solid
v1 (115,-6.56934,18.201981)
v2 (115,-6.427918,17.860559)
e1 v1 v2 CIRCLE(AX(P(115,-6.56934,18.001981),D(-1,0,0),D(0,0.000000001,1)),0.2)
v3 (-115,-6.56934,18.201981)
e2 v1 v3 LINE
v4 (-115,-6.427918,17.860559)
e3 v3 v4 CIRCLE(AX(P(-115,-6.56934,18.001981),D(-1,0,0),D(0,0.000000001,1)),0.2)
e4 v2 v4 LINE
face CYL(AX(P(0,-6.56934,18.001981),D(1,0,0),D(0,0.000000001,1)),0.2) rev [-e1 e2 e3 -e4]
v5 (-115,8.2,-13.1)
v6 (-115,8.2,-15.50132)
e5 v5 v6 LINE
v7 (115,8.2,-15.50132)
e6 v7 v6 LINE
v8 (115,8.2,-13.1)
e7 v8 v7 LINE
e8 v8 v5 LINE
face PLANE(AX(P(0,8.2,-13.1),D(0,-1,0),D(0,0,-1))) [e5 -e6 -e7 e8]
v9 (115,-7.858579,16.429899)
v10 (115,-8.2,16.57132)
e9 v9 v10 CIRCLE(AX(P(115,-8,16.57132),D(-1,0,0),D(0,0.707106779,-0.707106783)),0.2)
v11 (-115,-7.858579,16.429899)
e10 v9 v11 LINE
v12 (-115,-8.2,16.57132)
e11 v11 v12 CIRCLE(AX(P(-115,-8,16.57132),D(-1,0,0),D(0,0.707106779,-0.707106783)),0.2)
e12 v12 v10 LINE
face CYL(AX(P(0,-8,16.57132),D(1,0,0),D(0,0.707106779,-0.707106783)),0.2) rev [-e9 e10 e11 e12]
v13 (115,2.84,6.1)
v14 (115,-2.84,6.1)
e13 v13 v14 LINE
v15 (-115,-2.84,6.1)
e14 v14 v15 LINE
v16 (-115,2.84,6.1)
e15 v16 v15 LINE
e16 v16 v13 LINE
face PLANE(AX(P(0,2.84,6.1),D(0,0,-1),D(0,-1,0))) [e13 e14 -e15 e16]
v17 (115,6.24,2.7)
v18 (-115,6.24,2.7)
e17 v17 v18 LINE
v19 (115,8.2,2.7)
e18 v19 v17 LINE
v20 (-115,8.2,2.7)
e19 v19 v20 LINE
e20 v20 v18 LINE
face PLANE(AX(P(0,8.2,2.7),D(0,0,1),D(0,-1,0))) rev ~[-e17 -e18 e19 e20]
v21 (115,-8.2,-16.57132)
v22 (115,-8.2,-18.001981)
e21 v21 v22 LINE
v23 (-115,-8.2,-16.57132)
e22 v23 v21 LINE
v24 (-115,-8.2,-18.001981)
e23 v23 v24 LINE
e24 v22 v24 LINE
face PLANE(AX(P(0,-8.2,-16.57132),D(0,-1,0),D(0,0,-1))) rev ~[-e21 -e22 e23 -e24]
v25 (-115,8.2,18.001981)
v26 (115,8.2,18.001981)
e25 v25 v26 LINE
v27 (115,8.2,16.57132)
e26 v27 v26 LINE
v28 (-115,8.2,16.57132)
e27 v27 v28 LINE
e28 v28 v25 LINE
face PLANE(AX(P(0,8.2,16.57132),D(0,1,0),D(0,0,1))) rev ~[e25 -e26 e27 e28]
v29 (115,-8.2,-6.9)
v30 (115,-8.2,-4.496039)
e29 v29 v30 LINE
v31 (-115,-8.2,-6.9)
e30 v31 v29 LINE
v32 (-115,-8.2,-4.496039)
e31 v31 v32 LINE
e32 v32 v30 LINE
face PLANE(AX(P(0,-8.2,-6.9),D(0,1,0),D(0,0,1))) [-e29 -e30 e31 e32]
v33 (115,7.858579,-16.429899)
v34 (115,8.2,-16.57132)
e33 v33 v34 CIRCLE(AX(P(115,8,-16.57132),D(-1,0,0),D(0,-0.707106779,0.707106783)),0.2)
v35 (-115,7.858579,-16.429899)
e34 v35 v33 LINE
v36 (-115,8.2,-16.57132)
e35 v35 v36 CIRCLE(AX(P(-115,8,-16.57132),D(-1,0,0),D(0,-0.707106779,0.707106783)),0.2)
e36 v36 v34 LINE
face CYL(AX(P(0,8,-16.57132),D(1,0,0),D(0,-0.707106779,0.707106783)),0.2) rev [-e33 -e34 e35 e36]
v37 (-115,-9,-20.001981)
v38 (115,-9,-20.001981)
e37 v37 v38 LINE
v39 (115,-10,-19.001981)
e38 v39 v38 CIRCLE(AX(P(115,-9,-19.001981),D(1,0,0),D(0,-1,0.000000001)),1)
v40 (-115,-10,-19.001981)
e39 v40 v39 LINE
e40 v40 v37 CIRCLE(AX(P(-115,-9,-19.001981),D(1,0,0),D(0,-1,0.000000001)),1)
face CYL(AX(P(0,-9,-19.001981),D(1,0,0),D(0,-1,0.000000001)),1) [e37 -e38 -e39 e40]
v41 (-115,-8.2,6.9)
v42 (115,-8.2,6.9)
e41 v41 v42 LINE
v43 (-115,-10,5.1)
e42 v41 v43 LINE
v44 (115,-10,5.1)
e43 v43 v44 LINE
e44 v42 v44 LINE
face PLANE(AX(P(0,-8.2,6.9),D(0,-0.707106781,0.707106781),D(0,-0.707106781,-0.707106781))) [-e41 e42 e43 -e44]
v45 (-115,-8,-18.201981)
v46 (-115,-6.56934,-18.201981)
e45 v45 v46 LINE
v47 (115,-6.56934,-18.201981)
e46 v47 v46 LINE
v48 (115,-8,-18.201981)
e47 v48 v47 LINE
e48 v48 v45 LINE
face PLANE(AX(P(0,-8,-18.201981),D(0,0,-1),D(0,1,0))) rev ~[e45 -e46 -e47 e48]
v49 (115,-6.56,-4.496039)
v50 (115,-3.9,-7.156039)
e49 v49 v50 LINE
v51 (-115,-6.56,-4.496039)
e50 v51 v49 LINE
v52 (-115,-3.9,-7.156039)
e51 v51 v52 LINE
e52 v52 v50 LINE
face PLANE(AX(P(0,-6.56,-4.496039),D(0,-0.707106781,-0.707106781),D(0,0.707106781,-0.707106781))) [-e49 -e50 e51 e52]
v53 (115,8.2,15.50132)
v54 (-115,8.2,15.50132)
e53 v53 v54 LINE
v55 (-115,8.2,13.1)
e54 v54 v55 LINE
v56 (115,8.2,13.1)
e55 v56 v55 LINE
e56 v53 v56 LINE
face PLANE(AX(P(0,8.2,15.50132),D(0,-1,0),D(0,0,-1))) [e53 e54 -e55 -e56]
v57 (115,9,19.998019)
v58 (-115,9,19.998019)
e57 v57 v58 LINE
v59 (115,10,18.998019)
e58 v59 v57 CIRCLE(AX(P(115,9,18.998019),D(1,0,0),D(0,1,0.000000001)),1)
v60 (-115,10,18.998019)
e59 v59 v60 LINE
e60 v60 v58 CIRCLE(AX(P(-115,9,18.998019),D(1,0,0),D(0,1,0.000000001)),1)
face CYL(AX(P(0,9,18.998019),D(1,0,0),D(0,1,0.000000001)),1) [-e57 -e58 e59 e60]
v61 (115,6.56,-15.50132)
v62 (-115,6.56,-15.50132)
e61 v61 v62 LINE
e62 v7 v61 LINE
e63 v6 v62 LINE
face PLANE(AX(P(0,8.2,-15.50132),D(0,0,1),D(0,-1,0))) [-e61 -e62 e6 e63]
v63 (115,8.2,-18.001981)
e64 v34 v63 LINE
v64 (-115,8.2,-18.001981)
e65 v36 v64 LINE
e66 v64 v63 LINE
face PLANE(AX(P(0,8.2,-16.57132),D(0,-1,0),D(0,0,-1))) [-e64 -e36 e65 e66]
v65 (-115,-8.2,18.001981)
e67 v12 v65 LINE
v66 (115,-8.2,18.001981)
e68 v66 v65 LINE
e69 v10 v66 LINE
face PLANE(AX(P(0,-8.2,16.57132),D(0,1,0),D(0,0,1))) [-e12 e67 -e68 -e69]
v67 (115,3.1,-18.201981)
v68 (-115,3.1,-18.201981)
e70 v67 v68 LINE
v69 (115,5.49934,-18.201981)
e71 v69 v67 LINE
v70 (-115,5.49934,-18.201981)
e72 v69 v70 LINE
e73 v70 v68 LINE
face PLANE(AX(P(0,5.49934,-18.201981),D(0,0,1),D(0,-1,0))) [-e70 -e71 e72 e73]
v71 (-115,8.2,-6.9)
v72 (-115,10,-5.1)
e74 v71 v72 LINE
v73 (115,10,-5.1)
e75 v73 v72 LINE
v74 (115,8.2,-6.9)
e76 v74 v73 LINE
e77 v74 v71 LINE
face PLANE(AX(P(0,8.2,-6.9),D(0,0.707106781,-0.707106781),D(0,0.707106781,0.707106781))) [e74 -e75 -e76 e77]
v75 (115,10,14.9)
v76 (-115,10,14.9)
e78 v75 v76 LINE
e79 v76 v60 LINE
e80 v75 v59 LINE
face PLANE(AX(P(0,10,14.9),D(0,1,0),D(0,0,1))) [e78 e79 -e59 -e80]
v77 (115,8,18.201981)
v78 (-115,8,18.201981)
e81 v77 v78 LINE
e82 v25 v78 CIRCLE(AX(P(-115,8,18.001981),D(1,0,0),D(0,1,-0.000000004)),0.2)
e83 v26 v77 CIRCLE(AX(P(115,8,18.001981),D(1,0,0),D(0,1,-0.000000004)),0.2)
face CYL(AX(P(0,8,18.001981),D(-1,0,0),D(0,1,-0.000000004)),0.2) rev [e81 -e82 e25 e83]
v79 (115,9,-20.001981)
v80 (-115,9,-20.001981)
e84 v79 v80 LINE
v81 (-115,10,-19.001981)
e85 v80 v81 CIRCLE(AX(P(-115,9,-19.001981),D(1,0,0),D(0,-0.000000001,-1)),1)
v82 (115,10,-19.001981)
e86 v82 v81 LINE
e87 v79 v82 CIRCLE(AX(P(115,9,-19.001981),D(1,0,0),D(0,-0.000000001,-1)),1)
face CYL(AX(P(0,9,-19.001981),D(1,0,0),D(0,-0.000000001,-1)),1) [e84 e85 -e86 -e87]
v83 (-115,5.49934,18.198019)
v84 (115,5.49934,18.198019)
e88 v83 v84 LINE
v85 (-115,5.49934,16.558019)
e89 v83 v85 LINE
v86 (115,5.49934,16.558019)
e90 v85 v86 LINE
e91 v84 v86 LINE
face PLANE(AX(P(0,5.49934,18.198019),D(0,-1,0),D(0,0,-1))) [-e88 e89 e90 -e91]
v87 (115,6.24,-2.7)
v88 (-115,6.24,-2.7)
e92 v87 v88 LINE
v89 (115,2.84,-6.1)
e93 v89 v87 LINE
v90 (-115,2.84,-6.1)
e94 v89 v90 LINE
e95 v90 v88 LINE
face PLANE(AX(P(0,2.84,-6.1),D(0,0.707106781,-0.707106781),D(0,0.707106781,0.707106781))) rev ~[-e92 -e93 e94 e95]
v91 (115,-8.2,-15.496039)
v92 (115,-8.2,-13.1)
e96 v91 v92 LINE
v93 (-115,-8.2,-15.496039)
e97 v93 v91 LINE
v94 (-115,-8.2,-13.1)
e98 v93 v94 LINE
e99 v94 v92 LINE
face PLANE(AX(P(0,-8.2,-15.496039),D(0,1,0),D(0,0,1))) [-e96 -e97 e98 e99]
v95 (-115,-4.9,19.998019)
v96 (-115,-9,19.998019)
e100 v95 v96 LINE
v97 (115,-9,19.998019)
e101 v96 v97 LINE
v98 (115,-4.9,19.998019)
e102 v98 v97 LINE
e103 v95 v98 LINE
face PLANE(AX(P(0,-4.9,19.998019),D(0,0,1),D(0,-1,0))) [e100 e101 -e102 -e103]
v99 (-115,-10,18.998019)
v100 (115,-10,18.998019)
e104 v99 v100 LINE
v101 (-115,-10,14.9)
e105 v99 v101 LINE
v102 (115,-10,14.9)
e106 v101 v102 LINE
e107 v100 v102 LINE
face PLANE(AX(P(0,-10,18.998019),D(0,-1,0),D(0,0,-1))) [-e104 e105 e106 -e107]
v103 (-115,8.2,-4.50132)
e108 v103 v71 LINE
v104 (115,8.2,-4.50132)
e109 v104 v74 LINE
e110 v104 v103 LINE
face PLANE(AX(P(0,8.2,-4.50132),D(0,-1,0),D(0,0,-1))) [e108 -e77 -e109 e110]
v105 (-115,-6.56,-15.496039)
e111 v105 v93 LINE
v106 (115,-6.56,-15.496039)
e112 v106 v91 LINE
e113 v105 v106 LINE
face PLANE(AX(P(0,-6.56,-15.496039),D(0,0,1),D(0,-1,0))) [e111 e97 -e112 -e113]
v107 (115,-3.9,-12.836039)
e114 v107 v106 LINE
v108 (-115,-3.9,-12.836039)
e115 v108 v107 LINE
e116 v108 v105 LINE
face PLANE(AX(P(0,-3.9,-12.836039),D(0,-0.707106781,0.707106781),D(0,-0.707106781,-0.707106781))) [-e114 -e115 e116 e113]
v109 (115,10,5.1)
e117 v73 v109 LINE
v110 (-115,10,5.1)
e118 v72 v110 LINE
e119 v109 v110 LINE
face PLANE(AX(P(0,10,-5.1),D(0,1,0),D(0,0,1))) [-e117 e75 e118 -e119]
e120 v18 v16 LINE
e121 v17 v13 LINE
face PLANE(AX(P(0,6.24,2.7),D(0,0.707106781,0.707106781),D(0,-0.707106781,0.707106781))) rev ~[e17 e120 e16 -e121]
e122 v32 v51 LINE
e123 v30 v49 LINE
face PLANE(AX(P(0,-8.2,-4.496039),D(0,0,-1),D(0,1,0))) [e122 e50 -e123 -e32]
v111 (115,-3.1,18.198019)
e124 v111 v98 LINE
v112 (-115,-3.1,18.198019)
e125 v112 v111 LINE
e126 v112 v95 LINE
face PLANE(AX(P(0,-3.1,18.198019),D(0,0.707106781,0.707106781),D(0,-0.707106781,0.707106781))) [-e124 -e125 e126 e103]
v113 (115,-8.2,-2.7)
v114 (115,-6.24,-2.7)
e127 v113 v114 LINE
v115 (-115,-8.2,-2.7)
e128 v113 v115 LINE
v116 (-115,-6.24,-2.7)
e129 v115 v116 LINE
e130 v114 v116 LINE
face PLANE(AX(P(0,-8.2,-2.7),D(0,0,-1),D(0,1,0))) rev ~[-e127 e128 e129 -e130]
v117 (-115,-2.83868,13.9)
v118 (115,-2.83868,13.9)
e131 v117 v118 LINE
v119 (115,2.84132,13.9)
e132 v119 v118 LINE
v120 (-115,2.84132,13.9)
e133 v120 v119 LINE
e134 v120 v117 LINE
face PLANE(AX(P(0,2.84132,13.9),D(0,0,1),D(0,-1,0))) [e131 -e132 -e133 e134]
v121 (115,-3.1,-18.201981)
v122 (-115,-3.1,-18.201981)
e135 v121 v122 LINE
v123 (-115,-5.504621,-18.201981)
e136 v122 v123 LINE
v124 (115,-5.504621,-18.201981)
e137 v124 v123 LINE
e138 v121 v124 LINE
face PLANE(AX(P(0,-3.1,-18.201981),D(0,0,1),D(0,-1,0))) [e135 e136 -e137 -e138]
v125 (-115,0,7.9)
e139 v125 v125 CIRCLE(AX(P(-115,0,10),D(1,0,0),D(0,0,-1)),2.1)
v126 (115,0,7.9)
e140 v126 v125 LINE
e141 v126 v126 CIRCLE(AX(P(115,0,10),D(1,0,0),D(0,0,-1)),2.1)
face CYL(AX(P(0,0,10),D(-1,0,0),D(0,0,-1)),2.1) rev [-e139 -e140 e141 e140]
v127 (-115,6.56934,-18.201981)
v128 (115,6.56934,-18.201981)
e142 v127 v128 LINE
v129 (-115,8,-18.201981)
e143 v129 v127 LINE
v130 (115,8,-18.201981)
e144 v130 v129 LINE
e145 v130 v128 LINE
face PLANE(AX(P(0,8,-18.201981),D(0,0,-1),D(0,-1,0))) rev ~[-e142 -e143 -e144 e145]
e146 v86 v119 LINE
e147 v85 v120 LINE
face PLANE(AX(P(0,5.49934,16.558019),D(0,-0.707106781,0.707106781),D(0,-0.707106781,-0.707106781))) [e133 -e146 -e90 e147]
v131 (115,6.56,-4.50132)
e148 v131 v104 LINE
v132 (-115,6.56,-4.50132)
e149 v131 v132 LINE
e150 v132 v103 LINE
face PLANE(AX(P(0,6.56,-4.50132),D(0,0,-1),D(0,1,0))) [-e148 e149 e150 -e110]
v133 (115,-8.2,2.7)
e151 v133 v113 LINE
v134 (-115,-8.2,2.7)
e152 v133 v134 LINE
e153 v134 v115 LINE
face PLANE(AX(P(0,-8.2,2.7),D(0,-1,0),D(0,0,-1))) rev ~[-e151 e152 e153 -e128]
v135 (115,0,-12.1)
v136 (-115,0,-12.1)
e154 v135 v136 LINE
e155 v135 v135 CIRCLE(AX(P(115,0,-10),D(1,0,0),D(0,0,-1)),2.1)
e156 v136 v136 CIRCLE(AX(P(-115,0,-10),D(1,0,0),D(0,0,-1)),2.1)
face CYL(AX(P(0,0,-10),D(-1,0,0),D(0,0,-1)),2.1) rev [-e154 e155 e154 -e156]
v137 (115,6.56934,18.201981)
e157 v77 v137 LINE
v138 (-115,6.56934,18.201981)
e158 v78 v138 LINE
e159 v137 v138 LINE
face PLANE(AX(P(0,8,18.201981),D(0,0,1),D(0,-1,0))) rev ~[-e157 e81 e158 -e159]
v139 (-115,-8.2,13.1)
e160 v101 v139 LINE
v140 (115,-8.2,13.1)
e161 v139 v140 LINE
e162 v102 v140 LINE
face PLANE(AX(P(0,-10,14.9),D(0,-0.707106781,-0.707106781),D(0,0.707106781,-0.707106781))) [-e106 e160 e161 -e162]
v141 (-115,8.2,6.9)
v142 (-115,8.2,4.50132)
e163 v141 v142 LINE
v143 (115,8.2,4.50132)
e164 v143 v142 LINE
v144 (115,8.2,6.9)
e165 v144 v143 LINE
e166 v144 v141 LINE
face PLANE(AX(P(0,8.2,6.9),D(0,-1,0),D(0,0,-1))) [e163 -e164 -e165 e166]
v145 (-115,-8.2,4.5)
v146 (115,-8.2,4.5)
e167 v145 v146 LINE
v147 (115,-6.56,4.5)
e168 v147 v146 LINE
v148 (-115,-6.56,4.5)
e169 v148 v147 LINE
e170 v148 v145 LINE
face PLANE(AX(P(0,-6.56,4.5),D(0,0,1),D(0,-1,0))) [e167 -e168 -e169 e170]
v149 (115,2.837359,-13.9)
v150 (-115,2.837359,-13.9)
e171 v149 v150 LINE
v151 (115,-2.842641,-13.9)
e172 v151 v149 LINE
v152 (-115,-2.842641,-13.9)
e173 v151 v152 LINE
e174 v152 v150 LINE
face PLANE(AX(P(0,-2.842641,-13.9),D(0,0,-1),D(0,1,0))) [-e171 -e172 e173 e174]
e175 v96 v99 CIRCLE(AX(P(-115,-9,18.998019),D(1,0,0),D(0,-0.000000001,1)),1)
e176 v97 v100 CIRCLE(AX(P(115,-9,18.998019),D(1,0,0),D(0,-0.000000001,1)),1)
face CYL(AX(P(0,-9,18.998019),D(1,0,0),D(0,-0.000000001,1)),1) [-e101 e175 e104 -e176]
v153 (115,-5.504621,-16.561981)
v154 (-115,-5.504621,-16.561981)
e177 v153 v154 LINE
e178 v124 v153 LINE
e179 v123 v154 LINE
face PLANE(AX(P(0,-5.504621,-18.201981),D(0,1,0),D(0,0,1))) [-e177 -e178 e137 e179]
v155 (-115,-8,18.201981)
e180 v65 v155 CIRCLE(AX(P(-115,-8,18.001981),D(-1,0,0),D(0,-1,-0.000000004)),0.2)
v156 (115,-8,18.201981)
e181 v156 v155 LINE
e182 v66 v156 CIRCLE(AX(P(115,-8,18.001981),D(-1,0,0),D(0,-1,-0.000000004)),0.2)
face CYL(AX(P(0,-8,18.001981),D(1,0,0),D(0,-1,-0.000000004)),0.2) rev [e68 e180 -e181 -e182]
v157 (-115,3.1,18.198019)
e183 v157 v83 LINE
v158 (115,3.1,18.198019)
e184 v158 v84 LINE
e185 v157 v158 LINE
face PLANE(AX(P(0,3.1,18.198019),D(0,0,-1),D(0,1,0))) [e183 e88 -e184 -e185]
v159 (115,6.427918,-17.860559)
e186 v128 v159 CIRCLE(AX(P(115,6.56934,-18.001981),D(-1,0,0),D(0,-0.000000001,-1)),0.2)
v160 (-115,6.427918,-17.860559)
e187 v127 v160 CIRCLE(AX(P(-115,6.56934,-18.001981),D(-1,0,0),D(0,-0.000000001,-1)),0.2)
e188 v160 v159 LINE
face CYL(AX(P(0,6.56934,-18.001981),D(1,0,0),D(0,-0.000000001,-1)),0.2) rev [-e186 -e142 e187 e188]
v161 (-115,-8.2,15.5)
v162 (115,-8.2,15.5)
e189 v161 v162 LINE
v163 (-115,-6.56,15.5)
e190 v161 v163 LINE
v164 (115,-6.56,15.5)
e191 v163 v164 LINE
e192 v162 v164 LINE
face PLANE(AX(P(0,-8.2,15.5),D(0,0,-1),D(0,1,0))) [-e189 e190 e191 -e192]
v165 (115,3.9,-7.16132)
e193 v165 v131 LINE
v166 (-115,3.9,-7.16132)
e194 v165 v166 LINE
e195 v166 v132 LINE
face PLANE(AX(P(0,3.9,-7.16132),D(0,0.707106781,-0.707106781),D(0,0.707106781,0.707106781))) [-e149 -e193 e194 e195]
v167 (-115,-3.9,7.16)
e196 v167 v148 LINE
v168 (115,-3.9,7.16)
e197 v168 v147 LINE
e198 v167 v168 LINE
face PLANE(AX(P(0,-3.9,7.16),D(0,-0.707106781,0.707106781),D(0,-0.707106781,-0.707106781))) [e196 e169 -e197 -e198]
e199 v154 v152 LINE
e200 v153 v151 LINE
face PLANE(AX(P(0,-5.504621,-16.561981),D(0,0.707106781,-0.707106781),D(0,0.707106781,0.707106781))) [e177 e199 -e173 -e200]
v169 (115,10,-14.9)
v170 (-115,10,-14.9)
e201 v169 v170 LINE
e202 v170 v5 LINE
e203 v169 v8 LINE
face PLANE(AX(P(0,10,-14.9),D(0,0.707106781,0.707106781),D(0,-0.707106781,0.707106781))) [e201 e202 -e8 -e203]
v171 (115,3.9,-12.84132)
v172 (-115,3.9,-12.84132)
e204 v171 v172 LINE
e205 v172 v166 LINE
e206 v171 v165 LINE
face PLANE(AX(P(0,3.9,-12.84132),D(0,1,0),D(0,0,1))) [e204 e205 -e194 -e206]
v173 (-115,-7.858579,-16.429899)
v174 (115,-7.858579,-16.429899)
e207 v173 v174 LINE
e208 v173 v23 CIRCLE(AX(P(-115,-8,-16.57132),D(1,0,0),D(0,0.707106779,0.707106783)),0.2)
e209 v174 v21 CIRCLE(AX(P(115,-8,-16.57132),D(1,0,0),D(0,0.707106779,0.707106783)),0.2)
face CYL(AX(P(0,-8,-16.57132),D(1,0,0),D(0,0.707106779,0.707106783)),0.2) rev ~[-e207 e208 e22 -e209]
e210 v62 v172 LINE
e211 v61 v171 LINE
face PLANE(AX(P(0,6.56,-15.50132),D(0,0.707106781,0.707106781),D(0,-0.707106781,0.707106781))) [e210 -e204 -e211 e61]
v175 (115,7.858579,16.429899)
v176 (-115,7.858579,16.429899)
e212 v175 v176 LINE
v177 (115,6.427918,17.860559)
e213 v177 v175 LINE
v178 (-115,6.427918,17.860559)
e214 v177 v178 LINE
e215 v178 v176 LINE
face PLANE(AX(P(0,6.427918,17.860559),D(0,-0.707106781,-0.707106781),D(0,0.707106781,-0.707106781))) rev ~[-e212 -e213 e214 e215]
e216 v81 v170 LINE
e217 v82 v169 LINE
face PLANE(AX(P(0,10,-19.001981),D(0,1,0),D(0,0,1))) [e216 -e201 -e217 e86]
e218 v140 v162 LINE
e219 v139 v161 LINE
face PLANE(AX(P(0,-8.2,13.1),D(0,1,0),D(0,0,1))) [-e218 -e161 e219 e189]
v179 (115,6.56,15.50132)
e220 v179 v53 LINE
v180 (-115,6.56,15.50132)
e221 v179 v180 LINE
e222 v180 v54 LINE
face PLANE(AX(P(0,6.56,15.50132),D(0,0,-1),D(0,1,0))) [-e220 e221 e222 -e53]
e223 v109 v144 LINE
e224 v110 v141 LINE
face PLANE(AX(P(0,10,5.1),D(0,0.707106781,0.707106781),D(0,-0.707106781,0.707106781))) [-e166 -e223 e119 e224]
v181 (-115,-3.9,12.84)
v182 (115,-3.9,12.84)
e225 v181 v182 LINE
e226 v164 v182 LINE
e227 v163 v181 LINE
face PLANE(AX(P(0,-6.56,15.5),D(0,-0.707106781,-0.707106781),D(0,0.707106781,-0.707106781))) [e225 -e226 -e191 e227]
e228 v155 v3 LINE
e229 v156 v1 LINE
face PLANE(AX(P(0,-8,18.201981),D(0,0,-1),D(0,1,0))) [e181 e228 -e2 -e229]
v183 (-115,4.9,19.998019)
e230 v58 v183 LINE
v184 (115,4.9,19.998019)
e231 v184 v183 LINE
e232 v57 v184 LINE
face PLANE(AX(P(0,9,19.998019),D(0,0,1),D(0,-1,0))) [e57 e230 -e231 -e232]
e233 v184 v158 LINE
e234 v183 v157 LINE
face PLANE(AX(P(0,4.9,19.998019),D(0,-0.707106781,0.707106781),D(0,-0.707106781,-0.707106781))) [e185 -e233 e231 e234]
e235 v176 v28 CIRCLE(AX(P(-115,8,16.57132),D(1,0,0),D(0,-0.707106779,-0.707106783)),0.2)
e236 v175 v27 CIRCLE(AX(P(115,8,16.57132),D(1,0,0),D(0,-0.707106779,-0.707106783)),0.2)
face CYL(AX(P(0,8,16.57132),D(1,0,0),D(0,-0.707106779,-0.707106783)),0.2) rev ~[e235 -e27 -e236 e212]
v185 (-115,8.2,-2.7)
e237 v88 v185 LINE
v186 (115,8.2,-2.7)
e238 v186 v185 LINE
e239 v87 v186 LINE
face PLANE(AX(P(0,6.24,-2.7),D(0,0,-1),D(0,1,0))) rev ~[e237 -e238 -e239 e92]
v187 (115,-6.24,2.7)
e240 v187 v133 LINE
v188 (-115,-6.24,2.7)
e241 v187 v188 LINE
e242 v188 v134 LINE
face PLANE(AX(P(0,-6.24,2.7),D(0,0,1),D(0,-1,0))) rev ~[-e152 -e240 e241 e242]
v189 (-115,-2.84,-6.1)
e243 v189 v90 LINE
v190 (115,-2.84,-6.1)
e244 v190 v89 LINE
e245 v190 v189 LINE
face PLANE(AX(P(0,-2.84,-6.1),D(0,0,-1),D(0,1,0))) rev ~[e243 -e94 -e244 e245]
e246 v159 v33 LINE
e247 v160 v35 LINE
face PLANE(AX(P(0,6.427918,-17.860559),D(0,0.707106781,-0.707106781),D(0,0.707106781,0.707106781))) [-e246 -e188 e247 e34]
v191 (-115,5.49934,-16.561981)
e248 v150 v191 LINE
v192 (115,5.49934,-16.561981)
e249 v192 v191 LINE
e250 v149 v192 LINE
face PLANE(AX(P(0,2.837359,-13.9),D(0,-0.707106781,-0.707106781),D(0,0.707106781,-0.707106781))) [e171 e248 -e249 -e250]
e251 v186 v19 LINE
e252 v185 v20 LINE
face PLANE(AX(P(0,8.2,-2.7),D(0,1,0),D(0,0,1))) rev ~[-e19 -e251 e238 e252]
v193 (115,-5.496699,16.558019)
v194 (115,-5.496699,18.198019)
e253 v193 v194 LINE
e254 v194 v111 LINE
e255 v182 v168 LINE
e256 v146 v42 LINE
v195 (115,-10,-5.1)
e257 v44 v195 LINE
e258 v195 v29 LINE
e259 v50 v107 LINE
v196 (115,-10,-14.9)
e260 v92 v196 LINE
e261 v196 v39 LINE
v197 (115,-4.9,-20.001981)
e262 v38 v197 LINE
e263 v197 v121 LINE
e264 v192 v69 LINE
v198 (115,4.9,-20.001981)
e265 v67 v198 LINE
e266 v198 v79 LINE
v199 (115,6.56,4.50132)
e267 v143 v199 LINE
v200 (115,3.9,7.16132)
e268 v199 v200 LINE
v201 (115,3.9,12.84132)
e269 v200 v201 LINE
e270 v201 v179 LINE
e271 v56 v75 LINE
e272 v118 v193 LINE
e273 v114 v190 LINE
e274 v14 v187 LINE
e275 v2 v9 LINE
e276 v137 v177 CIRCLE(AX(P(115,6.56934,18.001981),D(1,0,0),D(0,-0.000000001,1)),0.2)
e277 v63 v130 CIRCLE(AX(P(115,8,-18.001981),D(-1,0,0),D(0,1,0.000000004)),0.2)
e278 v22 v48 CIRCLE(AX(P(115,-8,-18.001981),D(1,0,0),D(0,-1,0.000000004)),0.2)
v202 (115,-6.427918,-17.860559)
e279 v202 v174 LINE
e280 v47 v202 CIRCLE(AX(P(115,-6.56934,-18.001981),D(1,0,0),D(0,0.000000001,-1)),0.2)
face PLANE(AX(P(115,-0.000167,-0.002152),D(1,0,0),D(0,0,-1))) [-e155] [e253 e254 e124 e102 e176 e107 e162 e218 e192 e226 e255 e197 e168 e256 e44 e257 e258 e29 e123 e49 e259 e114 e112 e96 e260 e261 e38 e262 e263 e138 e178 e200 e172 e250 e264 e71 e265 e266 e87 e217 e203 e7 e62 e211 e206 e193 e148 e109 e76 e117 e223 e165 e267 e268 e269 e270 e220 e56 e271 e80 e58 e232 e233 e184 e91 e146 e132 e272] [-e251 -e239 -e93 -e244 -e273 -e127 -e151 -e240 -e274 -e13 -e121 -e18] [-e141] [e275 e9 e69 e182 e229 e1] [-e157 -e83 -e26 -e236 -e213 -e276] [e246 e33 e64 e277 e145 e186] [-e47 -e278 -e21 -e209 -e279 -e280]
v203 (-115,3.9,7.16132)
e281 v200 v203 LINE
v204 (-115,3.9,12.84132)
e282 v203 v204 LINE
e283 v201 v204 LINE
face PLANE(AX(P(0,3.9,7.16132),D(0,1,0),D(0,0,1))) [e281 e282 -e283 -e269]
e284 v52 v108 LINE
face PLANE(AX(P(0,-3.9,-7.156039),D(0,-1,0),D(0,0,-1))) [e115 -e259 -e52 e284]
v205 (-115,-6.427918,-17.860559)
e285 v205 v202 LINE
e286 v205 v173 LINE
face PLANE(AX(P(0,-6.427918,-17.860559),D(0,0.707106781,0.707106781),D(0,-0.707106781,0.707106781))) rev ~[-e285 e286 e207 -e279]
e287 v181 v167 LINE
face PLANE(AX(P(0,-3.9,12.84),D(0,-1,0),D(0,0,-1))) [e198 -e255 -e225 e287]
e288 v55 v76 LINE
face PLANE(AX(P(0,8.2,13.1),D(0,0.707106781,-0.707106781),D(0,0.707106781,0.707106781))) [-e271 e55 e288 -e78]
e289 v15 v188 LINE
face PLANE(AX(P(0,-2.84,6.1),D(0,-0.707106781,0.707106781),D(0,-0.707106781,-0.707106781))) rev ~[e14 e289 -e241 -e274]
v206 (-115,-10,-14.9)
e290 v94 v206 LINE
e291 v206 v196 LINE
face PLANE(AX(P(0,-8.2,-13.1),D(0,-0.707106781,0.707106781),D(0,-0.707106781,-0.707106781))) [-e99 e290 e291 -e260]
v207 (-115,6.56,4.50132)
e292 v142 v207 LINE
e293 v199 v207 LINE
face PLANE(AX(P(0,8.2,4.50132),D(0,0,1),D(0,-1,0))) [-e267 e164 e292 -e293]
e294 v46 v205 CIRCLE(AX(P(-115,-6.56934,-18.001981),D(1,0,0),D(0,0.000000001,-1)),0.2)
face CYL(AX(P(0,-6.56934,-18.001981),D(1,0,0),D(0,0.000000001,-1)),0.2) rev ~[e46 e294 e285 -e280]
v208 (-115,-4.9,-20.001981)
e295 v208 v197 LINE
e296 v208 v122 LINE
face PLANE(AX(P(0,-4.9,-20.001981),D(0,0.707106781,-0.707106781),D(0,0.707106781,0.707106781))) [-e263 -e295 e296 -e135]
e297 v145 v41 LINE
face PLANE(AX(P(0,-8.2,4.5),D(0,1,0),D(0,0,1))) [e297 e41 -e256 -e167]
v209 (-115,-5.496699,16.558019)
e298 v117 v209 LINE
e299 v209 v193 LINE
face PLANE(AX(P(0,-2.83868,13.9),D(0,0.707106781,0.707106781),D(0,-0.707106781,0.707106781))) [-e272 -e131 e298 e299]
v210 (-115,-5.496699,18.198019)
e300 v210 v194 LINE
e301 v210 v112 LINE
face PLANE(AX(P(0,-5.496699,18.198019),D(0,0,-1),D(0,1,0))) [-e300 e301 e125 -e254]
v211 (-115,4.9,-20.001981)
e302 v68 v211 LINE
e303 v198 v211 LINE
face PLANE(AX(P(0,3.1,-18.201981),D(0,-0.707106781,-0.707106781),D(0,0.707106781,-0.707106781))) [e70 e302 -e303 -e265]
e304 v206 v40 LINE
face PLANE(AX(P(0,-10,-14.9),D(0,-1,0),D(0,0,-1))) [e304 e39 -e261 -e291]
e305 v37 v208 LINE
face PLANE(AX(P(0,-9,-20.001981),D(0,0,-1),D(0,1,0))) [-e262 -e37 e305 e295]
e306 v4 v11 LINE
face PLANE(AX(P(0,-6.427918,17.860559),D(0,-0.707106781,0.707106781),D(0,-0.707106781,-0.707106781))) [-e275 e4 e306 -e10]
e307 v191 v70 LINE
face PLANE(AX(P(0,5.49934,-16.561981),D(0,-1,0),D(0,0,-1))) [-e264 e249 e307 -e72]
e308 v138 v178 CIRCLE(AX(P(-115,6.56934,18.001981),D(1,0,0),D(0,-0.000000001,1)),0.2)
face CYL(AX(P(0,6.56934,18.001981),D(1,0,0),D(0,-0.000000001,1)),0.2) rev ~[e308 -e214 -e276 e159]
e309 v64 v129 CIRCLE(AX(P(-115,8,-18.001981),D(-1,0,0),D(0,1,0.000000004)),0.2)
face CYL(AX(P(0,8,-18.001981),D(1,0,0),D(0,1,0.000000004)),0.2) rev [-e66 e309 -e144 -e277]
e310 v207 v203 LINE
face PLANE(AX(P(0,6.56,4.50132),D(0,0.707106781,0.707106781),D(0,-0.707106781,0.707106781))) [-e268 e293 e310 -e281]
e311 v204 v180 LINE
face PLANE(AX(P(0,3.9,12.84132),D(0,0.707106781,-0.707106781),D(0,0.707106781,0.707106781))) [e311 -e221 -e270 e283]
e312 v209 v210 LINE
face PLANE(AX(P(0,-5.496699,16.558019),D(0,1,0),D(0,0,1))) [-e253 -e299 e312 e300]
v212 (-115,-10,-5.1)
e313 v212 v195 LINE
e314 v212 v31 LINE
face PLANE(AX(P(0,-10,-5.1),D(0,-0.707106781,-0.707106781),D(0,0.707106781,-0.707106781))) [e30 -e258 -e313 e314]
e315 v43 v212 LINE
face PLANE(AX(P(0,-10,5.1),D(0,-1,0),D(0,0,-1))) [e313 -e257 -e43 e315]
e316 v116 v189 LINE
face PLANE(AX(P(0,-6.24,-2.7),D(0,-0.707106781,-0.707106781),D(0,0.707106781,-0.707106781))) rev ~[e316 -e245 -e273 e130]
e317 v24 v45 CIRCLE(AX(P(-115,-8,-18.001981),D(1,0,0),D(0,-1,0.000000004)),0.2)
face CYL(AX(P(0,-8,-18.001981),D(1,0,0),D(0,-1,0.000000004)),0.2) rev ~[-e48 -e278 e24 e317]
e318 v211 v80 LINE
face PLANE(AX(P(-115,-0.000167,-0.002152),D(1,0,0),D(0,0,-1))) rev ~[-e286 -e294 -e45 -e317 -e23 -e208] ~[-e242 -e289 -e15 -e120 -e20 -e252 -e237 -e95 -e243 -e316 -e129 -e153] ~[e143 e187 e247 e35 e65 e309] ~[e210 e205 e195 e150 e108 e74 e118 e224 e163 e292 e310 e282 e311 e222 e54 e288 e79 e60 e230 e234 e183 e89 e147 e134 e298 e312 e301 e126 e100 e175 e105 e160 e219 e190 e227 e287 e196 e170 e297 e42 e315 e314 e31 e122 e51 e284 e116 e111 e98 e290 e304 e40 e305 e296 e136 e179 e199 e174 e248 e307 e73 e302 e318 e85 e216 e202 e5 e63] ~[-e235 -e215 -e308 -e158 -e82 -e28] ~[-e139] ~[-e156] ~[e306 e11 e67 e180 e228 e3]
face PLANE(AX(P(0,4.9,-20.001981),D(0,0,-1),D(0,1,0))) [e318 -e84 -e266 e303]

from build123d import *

# Parameters (mm, degrees)
SKETCH5_R           = 2.1
BOSS_EXTRUDE1_DEPTH = 115


with BuildPart() as part:
    # Sketch5 → Boss-Extrude1 (new body, symmetric)
    with BuildSketch(Plane(origin=(0, 0, 0), x_dir=(0, 0, -1), z_dir=(1, 0, 0))):
        with BuildLine():
            Line((-19.998019485, 4.9), (-18.198019485, 3.1))
            Line((-18.198019485, 3.1), (-18.198019485, 5.499339828))
            Line((-18.198019485, 5.499339828), (-16.558019485, 5.499339828))
            Line((-16.558019485, 5.499339828), (-13.9, 2.841320344))
            Line((-13.9, 2.841320344), (-13.9, -2.838679656))
            Line((-13.9, -2.838679656), (-16.558019485, -5.496699141))
            Line((-16.558019485, -5.496699141), (-18.198019485, -5.496699141))
            Line((-18.198019485, -5.496699141), (-18.198019485, -3.1))
            Line((-18.198019485, -3.1), (-19.998019485, -4.9))
            Line((-19.998019485, -4.9), (-19.998019485, -9))
            ThreePointArc((-19.998019485, -9), (-19.705126266, -9.707106781), (-18.998019485, -10))
            Line((-18.998019485, -10), (-14.9, -10))
            Line((-14.9, -10), (-13.1, -8.2))
            Line((-13.1, -8.2), (-15.5, -8.2))
            Line((-15.5, -8.2), (-15.5, -6.56))
            Line((-15.5, -6.56), (-12.84, -3.9))
            Line((-12.84, -3.9), (-7.16, -3.9))
            Line((-7.16, -3.9), (-4.5, -6.56))
            Line((-4.5, -6.56), (-4.5, -8.2))
            Line((-4.5, -8.2), (-6.9, -8.2))
            Line((-6.9, -8.2), (-5.1, -10))
            Line((-5.1, -10), (5.1, -10))
            Line((5.1, -10), (6.9, -8.2))
            Line((6.9, -8.2), (4.496038969, -8.2))
            Line((4.496038969, -8.2), (4.496038969, -6.56))
            Line((4.496038969, -6.56), (7.156038969, -3.9))
            Line((7.156038969, -3.9), (12.836038969, -3.9))
            Line((12.836038969, -3.9), (15.496038969, -6.56))
            Line((15.496038969, -6.56), (15.496038969, -8.2))
            Line((15.496038969, -8.2), (13.1, -8.2))
            Line((13.1, -8.2), (14.9, -10))
            Line((14.9, -10), (19.001980515, -10))
            ThreePointArc((19.001980515, -10), (19.709087297, -9.707106781), (20.001980515, -9))
            Line((20.001980515, -9), (20.001980515, -4.9))
            Line((20.001980515, -4.9), (18.201980515, -3.1))
            Line((18.201980515, -3.1), (18.201980515, -5.504621202))
            Line((18.201980515, -5.504621202), (16.561980515, -5.504621202))
            Line((16.561980515, -5.504621202), (13.9, -2.842640687))
            Line((13.9, -2.842640687), (13.9, 2.837359313))
            Line((13.9, 2.837359313), (16.561980515, 5.499339828))
            Line((16.561980515, 5.499339828), (18.201980515, 5.499339828))
            Line((18.201980515, 5.499339828), (18.201980515, 3.1))
            Line((18.201980515, 3.1), (20.001980515, 4.9))
            Line((20.001980515, 4.9), (20.001980515, 9))
            ThreePointArc((20.001980515, 9), (19.709087297, 9.707106781), (19.001980515, 10))
            Line((19.001980515, 10), (14.9, 10))
            Line((14.9, 10), (13.1, 8.2))
            Line((13.1, 8.2), (15.501320344, 8.2))
            Line((15.501320344, 8.2), (15.501320344, 6.56))
            Line((15.501320344, 6.56), (12.841320344, 3.9))
            Line((12.841320344, 3.9), (7.161320344, 3.9))
            Line((7.161320344, 3.9), (4.501320344, 6.56))
            Line((4.501320344, 6.56), (4.501320344, 8.2))
            Line((4.501320344, 8.2), (6.9, 8.2))
            Line((6.9, 8.2), (5.1, 10))
            Line((5.1, 10), (-5.1, 10))
            Line((-5.1, 10), (-6.9, 8.2))
            Line((-6.9, 8.2), (-4.501320344, 8.2))
            Line((-4.501320344, 8.2), (-4.501320344, 6.56))
            Line((-4.501320344, 6.56), (-7.161320344, 3.9))
            Line((-7.161320344, 3.9), (-12.841320344, 3.9))
            Line((-12.841320344, 3.9), (-15.501320344, 6.56))
            Line((-15.501320344, 6.56), (-15.501320344, 8.2))
            Line((-15.501320344, 8.2), (-13.1, 8.2))
            Line((-13.1, 8.2), (-14.9, 10))
            Line((-14.9, 10), (-18.998019485, 10))
            ThreePointArc((-18.998019485, 10), (-19.705126266, 9.707106781), (-19.998019485, 9))
            Line((-19.998019485, 9), (-19.998019485, 4.9))
        make_face()
        with Locations((-10, 0)):
            Circle(SKETCH5_R, mode=Mode.SUBTRACT)
        with Locations((10, 0)):
            Circle(SKETCH5_R, mode=Mode.SUBTRACT)
        Polygon((6.1, -2.84), (6.1, 2.84), (2.7, 6.24), (2.7, 8.2), (-2.7, 8.2), (-2.7, 6.24), (-6.1, 2.84), (-6.1, -2.84), (-2.7, -6.24), (-2.7, -8.2), (2.7, -8.2), (2.7, -6.24), align=None, mode=Mode.SUBTRACT)
        with BuildLine():
            Line((16.571320344, 8.2), (18.001980515, 8.2))
            ThreePointArc((18.001980515, 8.2), (18.143401872, 8.141421356), (18.201980515, 8))
            Line((18.201980515, 8), (18.201980515, 6.569339828))
            ThreePointArc((18.201980515, 6.569339828), (18.078517202, 6.384563922), (17.860559159, 6.427918472))
            Line((17.860559159, 6.427918472), (16.429898987, 7.858578644))
            ThreePointArc((16.429898987, 7.858578644), (16.386544437, 8.076536686), (16.571320344, 8.2))
        make_face(mode=Mode.SUBTRACT)
        with BuildLine():
            Line((16.571320344, -8.2), (18.001980515, -8.2))
            ThreePointArc((18.001980515, -8.2), (18.143401872, -8.141421356), (18.201980515, -8))
            Line((18.201980515, -8), (18.201980515, -6.569339828))
            ThreePointArc((18.201980515, -6.569339828), (18.078517202, -6.384563922), (17.860559159, -6.427918472))
            Line((17.860559159, -6.427918472), (16.429898987, -7.858578644))
            ThreePointArc((16.429898987, -7.858578644), (16.386544437, -8.076536686), (16.571320344, -8.2))
        make_face(mode=Mode.SUBTRACT)
        with BuildLine():
            Line((-17.860559159, 6.427918472), (-16.429898987, 7.858578644))
            ThreePointArc((-16.429898987, 7.858578644), (-16.386544437, 8.076536686), (-16.571320344, 8.2))
            Line((-16.571320344, 8.2), (-18.001980515, 8.2))
            ThreePointArc((-18.001980515, 8.2), (-18.143401872, 8.141421356), (-18.201980515, 8))
            Line((-18.201980515, 8), (-18.201980515, 6.569339828))
            ThreePointArc((-18.201980515, 6.569339828), (-18.078517202, 6.384563922), (-17.860559159, 6.427918472))
        make_face(mode=Mode.SUBTRACT)
        with BuildLine():
            Line((-16.571320344, -8.2), (-18.001980515, -8.2))
            ThreePointArc((-18.001980515, -8.2), (-18.143401872, -8.141421356), (-18.201980515, -8))
            Line((-18.201980515, -8), (-18.201980515, -6.569339828))
            ThreePointArc((-18.201980515, -6.569339828), (-18.078517202, -6.384563922), (-17.860559159, -6.427918472))
            Line((-17.860559159, -6.427918472), (-16.429898987, -7.858578644))
            ThreePointArc((-16.429898987, -7.858578644), (-16.386544437, -8.076536686), (-16.571320344, -8.2))
        make_face(mode=Mode.SUBTRACT)
    extrude(amount=BOSS_EXTRUDE1_DEPTH, both=True)


solid = part.part
